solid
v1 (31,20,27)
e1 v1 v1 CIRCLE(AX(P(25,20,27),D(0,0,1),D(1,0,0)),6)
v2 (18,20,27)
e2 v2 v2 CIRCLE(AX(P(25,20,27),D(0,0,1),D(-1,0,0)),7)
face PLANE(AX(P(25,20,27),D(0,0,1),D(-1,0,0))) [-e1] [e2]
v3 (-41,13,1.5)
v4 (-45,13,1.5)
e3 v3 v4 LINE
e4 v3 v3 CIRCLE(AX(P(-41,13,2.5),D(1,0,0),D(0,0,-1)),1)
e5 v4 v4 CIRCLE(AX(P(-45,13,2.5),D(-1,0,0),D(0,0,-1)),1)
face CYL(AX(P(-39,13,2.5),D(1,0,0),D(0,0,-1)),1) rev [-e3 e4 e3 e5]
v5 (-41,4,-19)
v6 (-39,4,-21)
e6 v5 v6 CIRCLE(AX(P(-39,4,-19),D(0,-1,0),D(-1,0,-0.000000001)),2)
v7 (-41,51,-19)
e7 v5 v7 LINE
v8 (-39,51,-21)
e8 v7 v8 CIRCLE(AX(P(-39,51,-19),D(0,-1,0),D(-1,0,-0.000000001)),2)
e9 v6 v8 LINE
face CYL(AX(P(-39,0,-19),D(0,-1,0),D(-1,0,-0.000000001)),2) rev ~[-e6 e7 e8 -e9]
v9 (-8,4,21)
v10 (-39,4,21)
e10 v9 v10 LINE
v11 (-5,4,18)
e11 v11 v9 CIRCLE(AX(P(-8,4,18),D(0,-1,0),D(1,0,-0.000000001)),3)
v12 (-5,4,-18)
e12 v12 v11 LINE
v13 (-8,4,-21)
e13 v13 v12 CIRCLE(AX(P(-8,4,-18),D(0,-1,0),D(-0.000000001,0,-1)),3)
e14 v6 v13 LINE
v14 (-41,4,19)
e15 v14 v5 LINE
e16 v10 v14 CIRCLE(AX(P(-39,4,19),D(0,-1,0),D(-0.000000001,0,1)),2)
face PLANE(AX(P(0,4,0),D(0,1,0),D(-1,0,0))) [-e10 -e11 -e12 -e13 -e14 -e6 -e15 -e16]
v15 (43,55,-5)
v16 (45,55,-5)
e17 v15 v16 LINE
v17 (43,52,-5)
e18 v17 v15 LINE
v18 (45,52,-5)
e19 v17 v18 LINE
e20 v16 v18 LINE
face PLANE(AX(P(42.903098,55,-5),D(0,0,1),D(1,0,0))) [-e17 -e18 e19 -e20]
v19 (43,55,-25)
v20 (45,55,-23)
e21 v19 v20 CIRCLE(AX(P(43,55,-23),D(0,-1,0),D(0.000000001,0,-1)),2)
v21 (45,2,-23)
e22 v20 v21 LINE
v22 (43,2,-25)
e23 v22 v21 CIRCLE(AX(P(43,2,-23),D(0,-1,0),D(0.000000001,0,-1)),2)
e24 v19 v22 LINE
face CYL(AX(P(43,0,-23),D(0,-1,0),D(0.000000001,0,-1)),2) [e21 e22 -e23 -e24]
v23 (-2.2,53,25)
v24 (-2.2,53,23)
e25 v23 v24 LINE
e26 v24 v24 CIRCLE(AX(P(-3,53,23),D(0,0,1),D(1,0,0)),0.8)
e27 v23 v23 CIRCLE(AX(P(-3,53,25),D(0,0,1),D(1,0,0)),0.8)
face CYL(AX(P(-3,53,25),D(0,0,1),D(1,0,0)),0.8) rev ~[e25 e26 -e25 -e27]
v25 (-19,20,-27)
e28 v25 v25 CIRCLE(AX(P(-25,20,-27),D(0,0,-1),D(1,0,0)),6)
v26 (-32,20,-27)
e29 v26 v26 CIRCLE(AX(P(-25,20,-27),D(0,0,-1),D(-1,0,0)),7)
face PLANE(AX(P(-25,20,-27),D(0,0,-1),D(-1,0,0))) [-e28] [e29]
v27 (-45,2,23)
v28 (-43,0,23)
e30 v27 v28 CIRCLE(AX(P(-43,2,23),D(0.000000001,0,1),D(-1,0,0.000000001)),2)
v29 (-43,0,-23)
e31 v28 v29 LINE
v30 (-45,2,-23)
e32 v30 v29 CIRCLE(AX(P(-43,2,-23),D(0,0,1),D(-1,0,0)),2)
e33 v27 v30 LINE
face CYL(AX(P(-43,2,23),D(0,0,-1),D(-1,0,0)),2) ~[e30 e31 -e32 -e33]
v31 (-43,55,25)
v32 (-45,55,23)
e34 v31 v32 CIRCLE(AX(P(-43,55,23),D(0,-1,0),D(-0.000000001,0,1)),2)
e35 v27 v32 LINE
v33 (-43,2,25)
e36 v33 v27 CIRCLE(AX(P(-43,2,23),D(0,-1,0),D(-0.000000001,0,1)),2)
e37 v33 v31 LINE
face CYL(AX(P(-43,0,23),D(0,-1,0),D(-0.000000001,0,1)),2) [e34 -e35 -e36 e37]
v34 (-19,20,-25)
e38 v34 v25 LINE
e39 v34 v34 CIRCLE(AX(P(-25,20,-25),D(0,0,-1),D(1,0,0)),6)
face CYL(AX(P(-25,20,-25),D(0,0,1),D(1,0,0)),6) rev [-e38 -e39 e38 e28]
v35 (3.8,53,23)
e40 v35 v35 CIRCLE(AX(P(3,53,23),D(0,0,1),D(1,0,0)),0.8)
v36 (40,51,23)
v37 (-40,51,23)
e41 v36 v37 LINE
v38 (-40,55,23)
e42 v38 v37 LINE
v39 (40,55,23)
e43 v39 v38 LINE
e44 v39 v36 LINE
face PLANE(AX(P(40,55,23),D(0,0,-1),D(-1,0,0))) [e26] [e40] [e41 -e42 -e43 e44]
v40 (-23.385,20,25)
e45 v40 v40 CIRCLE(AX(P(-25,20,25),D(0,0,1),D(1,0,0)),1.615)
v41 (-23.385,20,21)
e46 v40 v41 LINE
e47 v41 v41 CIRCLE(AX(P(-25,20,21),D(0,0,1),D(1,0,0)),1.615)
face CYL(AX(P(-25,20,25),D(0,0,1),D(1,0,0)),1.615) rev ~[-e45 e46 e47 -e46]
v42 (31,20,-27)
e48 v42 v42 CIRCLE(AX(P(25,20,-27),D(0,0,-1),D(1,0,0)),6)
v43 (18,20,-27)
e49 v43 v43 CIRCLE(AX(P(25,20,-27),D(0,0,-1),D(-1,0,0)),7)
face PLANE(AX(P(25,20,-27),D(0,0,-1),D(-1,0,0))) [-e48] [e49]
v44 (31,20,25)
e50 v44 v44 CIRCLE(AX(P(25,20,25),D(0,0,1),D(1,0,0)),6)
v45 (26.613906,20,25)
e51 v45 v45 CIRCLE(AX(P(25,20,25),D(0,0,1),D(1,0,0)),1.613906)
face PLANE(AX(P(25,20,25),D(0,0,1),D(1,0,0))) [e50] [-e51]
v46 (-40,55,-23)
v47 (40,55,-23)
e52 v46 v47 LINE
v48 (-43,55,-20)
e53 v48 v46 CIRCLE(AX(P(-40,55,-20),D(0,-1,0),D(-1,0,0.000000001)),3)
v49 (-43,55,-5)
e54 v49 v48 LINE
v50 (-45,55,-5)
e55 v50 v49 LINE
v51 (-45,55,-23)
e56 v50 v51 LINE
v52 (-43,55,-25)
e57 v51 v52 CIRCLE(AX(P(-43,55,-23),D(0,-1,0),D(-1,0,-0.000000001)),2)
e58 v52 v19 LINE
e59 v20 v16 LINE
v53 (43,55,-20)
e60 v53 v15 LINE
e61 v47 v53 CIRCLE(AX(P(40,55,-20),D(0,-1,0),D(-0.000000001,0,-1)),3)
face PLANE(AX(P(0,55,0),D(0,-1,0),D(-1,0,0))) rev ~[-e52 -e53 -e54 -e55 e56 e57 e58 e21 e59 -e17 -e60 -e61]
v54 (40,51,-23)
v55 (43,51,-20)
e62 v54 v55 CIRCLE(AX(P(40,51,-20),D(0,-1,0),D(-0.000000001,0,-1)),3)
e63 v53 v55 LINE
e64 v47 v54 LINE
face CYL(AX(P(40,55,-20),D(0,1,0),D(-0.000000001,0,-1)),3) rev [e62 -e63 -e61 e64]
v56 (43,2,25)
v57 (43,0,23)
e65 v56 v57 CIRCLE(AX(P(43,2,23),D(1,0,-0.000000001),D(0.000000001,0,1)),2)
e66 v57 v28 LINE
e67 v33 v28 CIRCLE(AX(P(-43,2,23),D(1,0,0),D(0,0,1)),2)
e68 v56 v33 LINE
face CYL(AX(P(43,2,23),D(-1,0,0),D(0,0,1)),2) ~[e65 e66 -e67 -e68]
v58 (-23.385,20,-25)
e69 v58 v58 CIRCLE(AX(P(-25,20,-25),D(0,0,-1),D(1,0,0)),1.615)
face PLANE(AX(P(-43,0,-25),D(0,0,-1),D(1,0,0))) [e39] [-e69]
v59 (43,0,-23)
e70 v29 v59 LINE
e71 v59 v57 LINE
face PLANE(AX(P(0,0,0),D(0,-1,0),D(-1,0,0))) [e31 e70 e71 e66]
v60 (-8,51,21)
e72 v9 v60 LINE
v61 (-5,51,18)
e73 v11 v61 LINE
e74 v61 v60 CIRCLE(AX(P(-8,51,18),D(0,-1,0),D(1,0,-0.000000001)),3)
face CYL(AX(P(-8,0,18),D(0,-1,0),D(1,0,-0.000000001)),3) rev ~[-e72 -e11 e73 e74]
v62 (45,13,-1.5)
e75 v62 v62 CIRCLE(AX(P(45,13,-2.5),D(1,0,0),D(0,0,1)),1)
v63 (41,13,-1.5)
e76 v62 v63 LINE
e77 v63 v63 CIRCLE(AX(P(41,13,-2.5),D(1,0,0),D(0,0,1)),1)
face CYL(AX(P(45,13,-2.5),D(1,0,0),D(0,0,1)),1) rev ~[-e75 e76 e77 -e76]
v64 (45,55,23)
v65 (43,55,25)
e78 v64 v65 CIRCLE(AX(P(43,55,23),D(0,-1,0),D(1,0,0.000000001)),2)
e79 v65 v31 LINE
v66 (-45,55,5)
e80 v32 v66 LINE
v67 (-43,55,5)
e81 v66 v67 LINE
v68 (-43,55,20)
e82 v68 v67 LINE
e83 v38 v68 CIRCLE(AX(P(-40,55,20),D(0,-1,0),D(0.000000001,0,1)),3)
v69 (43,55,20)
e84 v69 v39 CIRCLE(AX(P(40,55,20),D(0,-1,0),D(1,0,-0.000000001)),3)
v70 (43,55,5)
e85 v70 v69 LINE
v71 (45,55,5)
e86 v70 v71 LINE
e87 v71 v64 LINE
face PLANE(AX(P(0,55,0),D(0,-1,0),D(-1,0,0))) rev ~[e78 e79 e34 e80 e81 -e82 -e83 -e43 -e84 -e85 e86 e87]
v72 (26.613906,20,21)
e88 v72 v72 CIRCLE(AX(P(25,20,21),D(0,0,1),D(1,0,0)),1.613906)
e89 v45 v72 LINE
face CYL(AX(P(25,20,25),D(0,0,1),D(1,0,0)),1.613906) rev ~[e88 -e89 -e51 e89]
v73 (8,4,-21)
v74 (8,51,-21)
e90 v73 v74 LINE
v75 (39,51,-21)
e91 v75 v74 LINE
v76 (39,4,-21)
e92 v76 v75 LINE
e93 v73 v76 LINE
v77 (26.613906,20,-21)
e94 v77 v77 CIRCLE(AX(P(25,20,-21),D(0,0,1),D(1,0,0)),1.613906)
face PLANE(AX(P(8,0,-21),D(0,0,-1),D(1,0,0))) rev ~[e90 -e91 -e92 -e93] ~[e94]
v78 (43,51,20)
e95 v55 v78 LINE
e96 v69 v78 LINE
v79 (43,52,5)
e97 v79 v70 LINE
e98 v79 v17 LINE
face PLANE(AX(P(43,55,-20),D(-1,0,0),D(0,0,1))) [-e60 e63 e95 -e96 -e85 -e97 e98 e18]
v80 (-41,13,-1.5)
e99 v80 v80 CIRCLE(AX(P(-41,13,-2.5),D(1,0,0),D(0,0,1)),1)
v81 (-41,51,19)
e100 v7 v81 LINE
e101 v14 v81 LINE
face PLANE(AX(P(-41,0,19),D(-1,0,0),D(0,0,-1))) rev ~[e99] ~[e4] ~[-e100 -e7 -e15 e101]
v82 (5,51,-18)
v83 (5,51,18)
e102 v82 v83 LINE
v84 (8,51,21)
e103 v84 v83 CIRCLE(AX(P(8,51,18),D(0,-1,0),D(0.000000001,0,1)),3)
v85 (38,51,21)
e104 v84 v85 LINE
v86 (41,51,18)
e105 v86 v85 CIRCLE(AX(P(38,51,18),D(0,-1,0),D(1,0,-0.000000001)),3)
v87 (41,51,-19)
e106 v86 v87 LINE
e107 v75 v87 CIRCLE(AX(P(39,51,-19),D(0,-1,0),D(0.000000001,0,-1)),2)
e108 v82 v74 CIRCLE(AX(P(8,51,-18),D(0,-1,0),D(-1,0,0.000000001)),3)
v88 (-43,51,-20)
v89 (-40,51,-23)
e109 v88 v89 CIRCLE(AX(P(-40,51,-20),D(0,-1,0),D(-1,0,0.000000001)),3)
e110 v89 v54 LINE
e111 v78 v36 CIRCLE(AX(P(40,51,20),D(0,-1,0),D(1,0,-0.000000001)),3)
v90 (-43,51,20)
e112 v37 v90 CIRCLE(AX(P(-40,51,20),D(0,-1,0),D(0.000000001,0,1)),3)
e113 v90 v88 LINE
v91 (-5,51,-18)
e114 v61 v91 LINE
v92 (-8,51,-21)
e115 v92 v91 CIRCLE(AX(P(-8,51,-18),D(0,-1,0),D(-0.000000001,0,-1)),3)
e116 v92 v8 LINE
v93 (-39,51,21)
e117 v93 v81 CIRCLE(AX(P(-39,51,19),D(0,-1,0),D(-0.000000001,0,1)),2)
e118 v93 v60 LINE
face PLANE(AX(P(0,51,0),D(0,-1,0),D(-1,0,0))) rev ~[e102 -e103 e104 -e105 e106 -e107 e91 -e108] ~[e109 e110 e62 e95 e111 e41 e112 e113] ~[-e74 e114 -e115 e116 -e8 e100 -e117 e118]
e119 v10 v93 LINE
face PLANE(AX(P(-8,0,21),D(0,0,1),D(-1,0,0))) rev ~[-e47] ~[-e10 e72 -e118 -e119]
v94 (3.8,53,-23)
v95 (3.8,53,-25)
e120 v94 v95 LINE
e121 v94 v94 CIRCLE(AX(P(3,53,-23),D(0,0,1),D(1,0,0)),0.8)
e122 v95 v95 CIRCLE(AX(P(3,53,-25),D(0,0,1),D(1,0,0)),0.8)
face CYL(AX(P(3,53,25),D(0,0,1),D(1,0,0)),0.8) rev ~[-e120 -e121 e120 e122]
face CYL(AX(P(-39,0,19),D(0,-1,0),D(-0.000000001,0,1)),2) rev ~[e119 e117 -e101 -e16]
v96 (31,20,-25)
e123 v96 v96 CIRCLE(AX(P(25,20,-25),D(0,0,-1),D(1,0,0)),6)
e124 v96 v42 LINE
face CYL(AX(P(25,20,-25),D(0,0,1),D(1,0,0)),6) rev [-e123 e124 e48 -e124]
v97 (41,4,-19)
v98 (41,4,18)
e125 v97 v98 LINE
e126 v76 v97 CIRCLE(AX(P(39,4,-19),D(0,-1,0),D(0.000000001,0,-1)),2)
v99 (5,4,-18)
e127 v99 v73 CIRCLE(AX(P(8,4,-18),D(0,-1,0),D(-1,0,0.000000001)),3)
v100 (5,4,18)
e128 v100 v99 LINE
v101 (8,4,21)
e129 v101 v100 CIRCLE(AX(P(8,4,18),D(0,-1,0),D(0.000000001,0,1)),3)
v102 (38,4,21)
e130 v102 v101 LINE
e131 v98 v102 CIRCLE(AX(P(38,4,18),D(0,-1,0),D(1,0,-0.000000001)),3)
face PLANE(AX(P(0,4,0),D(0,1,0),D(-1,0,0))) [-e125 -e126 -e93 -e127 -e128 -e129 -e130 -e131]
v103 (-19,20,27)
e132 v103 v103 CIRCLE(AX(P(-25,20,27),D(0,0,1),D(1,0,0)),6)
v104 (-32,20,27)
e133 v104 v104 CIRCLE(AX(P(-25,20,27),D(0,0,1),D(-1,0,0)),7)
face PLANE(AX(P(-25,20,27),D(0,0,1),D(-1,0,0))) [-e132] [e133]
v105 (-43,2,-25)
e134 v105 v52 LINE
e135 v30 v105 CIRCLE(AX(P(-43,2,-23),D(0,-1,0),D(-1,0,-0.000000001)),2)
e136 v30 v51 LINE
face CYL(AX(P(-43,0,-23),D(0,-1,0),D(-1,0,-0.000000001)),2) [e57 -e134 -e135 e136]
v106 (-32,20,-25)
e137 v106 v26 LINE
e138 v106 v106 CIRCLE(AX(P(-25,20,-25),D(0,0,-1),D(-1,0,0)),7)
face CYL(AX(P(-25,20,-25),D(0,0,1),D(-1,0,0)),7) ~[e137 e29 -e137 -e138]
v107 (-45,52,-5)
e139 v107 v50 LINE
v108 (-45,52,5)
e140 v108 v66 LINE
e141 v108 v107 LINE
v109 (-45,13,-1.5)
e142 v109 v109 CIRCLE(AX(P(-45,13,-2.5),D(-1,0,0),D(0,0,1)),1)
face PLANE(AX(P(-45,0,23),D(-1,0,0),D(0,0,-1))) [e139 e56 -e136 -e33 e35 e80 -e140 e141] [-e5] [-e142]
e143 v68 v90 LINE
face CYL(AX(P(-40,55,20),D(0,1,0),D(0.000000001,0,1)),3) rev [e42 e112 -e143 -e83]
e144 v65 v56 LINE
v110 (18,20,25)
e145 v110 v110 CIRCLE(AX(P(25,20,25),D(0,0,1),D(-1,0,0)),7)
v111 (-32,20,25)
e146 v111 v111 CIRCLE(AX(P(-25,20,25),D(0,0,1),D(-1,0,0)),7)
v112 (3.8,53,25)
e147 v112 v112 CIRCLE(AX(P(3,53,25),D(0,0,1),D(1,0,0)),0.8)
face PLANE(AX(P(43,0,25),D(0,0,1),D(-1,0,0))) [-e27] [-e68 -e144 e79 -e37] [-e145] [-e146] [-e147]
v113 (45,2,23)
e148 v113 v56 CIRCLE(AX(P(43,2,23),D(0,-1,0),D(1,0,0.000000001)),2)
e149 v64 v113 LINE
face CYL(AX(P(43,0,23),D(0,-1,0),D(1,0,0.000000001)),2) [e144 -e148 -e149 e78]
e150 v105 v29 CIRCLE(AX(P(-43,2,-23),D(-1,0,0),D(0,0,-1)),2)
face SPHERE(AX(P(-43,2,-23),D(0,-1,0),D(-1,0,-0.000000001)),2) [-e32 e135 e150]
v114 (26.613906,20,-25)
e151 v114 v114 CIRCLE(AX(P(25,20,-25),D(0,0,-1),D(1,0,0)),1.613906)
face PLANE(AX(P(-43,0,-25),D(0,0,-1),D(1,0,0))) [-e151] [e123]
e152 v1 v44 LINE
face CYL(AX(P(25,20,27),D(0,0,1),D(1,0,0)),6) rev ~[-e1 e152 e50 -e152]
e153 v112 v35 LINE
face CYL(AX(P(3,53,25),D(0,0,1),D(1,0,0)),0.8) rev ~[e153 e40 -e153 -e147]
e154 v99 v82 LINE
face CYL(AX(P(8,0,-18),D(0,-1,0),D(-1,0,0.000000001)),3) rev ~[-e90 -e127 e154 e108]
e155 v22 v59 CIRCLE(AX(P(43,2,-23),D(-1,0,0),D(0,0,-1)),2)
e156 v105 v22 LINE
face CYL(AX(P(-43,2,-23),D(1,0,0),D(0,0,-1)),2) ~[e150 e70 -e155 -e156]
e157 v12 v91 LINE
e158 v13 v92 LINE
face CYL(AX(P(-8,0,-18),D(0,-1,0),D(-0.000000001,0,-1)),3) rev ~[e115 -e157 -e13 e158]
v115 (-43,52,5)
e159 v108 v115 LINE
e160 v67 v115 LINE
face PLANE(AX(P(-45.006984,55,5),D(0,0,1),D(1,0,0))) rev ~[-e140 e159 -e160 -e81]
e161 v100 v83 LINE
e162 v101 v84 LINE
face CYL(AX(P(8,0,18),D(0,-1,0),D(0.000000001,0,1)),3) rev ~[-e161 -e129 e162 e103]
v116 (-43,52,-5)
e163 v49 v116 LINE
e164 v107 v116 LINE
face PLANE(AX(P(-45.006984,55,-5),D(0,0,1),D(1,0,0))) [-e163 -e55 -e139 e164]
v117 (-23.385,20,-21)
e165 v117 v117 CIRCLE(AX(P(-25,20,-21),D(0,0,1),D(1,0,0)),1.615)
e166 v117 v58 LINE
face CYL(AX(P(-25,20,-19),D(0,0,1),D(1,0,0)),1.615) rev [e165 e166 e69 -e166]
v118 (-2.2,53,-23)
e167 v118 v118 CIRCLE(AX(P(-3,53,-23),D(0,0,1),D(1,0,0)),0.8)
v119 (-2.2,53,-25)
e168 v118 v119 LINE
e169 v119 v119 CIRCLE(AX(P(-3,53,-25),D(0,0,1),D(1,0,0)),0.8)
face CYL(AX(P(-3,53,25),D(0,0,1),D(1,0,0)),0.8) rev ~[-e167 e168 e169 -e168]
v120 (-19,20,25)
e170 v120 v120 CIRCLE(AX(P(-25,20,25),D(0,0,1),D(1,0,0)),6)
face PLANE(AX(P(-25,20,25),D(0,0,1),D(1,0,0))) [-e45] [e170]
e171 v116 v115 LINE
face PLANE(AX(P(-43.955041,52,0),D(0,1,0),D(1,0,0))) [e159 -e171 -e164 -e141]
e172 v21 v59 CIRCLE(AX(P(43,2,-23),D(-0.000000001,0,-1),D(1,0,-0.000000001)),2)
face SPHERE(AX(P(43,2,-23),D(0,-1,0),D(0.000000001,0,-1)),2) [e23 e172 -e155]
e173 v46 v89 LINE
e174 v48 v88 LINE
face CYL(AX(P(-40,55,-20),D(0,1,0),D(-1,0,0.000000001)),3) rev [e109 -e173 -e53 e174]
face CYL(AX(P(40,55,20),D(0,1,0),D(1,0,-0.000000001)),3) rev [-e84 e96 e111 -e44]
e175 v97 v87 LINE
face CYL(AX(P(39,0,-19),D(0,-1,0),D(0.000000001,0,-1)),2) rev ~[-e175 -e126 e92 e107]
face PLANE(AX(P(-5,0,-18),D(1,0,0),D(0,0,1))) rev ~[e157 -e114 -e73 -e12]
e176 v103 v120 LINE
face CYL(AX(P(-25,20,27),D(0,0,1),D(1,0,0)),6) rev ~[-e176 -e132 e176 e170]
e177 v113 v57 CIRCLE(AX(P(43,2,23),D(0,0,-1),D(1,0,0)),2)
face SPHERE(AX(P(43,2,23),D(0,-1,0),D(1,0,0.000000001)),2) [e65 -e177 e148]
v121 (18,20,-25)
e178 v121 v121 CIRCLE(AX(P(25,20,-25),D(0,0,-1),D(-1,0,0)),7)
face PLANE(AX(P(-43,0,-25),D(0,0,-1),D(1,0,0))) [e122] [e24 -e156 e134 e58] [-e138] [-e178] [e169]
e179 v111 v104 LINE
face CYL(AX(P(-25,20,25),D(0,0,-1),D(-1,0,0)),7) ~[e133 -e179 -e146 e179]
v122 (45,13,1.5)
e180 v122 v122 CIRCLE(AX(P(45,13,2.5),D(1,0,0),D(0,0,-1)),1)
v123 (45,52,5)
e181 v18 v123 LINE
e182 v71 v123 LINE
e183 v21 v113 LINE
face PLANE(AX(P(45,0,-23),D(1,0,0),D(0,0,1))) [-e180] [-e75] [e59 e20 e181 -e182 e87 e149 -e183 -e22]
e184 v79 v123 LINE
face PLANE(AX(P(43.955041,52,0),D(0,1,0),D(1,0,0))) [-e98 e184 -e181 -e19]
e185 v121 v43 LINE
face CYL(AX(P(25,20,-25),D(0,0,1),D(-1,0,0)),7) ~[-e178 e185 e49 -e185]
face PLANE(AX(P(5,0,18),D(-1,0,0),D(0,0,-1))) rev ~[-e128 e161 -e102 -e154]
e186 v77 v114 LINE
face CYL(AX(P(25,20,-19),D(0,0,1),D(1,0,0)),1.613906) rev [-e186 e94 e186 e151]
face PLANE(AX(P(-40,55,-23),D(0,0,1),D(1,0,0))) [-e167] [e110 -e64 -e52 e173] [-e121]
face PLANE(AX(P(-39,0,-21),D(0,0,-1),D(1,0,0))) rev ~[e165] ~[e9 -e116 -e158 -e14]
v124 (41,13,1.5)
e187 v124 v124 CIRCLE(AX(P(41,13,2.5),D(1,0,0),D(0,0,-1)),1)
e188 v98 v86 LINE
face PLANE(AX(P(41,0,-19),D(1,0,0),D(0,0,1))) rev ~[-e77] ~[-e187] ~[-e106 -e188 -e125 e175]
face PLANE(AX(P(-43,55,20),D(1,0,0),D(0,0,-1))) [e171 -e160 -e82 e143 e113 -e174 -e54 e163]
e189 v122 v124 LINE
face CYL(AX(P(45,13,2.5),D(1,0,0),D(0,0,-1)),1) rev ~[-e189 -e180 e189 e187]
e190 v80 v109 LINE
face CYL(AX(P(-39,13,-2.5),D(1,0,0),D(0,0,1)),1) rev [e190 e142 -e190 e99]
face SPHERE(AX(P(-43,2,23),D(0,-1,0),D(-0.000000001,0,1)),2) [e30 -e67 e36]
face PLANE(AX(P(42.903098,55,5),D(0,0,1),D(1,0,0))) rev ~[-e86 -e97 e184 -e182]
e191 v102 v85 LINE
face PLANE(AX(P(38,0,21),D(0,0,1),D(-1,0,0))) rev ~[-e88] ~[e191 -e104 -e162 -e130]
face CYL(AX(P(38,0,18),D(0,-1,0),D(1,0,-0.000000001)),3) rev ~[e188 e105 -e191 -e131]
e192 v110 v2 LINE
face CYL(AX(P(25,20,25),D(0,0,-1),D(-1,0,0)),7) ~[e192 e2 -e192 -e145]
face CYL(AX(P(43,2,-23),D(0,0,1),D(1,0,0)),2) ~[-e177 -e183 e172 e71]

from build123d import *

# Parameters (mm, degrees)
BOSS_EXTRUDE1_DEPTH = 55
BOSS_EXTRUDE2_DEPTH = 4
CUT_EXTRUDE1_DEPTH  = 4
SKETCH6_R           = 7
BOSS_EXTRUDE3_DEPTH = 2
SKETCH7_R           = 6
CUT_EXTRUDE2_DEPTH  = 2
SKETCH8_R           = 1.613905717
CUT_EXTRUDE4_DEPTH  = 13
SKETCH9_R           = 6
CUT_EXTRUDE5_DEPTH  = 2
SKETCH11_R          = 1.615
CUT_EXTRUDE6_DEPTH  = 6
FILLET1_R           = 2
SKETCH14_R          = 7
SKETCH14_R_2        = 6
BOSS_EXTRUDE5_DEPTH = 2
CUT_EXTRUDE7_START  = -6
SKETCH15_R          = 1.615
SKETCH15_R_2        = 1.613905717
CUT_EXTRUDE7_DEPTH  = 6
SKETCH16_R          = 1
CUT_EXTRUDE9_DEPTH  = 6
CUT_EXTRUDE10_START = -6
SKETCH17_R          = 1
CUT_EXTRUDE10_DEPTH = 6
SKETCH18_W          = 2.103885612
SKETCH18_H          = 10
CUT_EXTRUDE12_DEPTH = 3
CUT_EXTRUDE13_REACH = 90.057
SKETCH19_R          = 0.8


with BuildPart() as part:
    # Sketch1 → Boss-Extrude1 (new body)
    with BuildSketch(Plane(origin=(0, 0, 0), x_dir=(1, 0, 0), z_dir=(0, 1, 0))):
        with BuildLine():
            Line((-43, 25), (43, 25))
            ThreePointArc((43, 25), (44.414213562, 24.414213562), (45, 23))
            Line((45, 23), (45, -23))
            ThreePointArc((45, -23), (44.414213562, -24.414213562), (43, -25))
            Line((43, -25), (-43, -25))
            ThreePointArc((-43, -25), (-44.414213562, -24.414213562), (-45, -23))
            Line((-45, -23), (-45, 23))
            ThreePointArc((-45, 23), (-44.414213562, 24.414213562), (-43, 25))
        make_face()
        with BuildLine():
            Line((-5, 18), (-5, -18))
            ThreePointArc((-5, -18), (-5.878679656, -20.121320344), (-8, -21))
            Line((-8, -21), (-39, -21))
            ThreePointArc((-39, -21), (-40.414213562, -20.414213562), (-41, -19))
            Line((-41, -19), (-41, 19))
            ThreePointArc((-41, 19), (-40.414213562, 20.414213562), (-39, 21))
            Line((-39, 21), (-8, 21))
            ThreePointArc((-8, 21), (-5.878679656, 20.121320344), (-5, 18))
        make_face(mode=Mode.SUBTRACT)
        with BuildLine():
            Line((41, 19), (41, -18))
            ThreePointArc((41, -18), (40.121320344, -20.121320344), (38, -21))
            Line((38, -21), (8, -21))
            ThreePointArc((8, -21), (5.878679656, -20.121320344), (5, -18))
            Line((5, -18), (5, 18))
            ThreePointArc((5, 18), (5.878679656, 20.121320344), (8, 21))
            Line((8, 21), (39, 21))
            ThreePointArc((39, 21), (40.414213562, 20.414213562), (41, 19))
        make_face(mode=Mode.SUBTRACT)
    extrude(amount=BOSS_EXTRUDE1_DEPTH)

    # Sketch2 → Boss-Extrude2 (add)
    with BuildSketch(Plane.XZ):
        with BuildLine():
            Line((45, 23), (45, -23))
            ThreePointArc((45, -23), (44.414213562, -24.414213562), (43, -25))
            Line((43, -25), (-43, -25))
            ThreePointArc((-43, -25), (-44.414213562, -24.414213562), (-45, -23))
            Line((-45, -23), (-45, 23))
            ThreePointArc((-45, 23), (-44.414213562, 24.414213562), (-43, 25))
            Line((-43, 25), (43, 25))
            ThreePointArc((43, 25), (44.414213562, 24.414213562), (45, 23))
        make_face()
    extrude(amount=-BOSS_EXTRUDE2_DEPTH)

    # Sketch5 → Cut-Extrude1 (cut)
    with BuildSketch(Plane(origin=(0, 55, 0), x_dir=(1, 0, 0), z_dir=(0, 1, 0))):
        with BuildLine():
            Line((-40, 23), (40, 23))
            ThreePointArc((40, 23), (42.121320344, 22.121320344), (43, 20))
            Line((43, 20), (43, -20))
            ThreePointArc((43, -20), (42.121320344, -22.121320344), (40, -23))
            Line((40, -23), (-40, -23))
            ThreePointArc((-40, -23), (-42.121320344, -22.121320344), (-43, -20))
            Line((-43, -20), (-43, 20))
            ThreePointArc((-43, 20), (-42.121320344, 22.121320344), (-40, 23))
        make_face()
    extrude(amount=-CUT_EXTRUDE1_DEPTH, mode=Mode.SUBTRACT)

    # Sketch6 → Boss-Extrude3 (add)
    with BuildSketch(Plane.XY.offset(25)):
        with Locations(Location((-25, 20, 0), (0, 0, 180))):
            Circle(SKETCH6_R)
        with Locations(Location((25, 20, 0), (0, 0, 180))):
            Circle(SKETCH6_R)
    extrude(amount=BOSS_EXTRUDE3_DEPTH)

    # Sketch7 → Cut-Extrude2 (cut)
    with BuildSketch(Plane.XY.offset(27)):
        with Locations((25, 20)):
            Circle(SKETCH7_R)
    extrude(amount=-CUT_EXTRUDE2_DEPTH, mode=Mode.SUBTRACT)

    # Sketch8 → Cut-Extrude4 (cut)
    with BuildSketch(Plane.XY.offset(25)):
        with Locations((25, 20)):
            Circle(SKETCH8_R)
    extrude(amount=-CUT_EXTRUDE4_DEPTH, mode=Mode.SUBTRACT)

    # Sketch9 → Cut-Extrude5 (cut)
    with BuildSketch(Plane.XY.offset(27)):
        with Locations((-25, 20)):
            Circle(SKETCH9_R)
    extrude(amount=-CUT_EXTRUDE5_DEPTH, mode=Mode.SUBTRACT)

    # Sketch11 → Cut-Extrude6 (cut)
    with BuildSketch(Plane.XY.offset(25)):
        with Locations((-25, 20)):
            Circle(SKETCH11_R)
    extrude(amount=-CUT_EXTRUDE6_DEPTH, mode=Mode.SUBTRACT)

    # Fillet1
    fillet1_edges = [part.edges().sort_by_distance(p)[0] for p in [
        (0, 0, -25),
        (44.414213562, 0, -24.414213562),
        (45, 0, 0),
        (44.414213562, 0, 24.414213562),
        (0, 0, 25),
        (-44.414213562, 0, 24.414213562),
        (-45, 0, 0),
        (-44.414213562, 0, -24.414213562),
    ]]
    fillet(fillet1_edges, radius=FILLET1_R)

    # Sketch14 → Boss-Extrude5 (add)
    # profile 1 of 2: a face of its own
    with BuildSketch(Plane(origin=(0, 0, -25), x_dir=(-1, 0, 0), z_dir=(0, 0, -1))):
        with Locations((-25, 20)):
            Circle(SKETCH14_R)
        with Locations(Location((-25, 20, 0), (0, 0, 180))):
            Circle(SKETCH14_R_2, mode=Mode.SUBTRACT)
    # profile 2 of 2: a face of its own
    with BuildSketch(Plane(origin=(0, 0, -25), x_dir=(-1, 0, 0), z_dir=(0, 0, -1))):
        with Locations((25, 20)):
            Circle(SKETCH14_R)
        with Locations(Location((25, 20, 0), (0, 0, 180))):
            Circle(SKETCH14_R_2, mode=Mode.SUBTRACT)
    extrude(amount=BOSS_EXTRUDE5_DEPTH)

    # Sketch15 → Cut-Extrude7 (cut)
    with BuildSketch(Plane(origin=(0, 0, -25), x_dir=(-1, 0, 0), z_dir=(0, 0, -1)).offset(CUT_EXTRUDE7_START)):
        with Locations(Location((25, 20, 0), (0, 0, 180))):
            Circle(SKETCH15_R)
        with Locations(Location((-25, 20, 0), (0, 0, 180))):
            Circle(SKETCH15_R_2)
    extrude(amount=CUT_EXTRUDE7_DEPTH, mode=Mode.SUBTRACT)

    # Sketch16 → Cut-Extrude9 (cut)
    with BuildSketch(Plane(origin=(45, 0, 0), x_dir=(0, 0, -1), z_dir=(1, 0, 0))):
        with Locations((-2.5, 13)):
            Circle(SKETCH16_R)
        with Locations(Location((2.5, 13, 0), (0, 0, 180))):
            Circle(SKETCH16_R)
    extrude(amount=-CUT_EXTRUDE9_DEPTH, mode=Mode.SUBTRACT)

    # Sketch17 → Cut-Extrude10 (cut)
    with BuildSketch(Plane.ZY.offset(45).offset(CUT_EXTRUDE10_START)):
        with Locations((-2.5, 13)):
            Circle(SKETCH17_R)
        with Locations(Location((2.5, 13, 0), (0, 0, 180))):
            Circle(SKETCH17_R)
    extrude(amount=CUT_EXTRUDE10_DEPTH, mode=Mode.SUBTRACT)

    # Sketch18 → Cut-Extrude12 (cut)
    with BuildSketch(Plane(origin=(0, 55, 0), x_dir=(1, 0, 0), z_dir=(0, 1, 0))):
        with Locations((43.955041237, 0)):
            Rectangle(SKETCH18_W, SKETCH18_H)
        with Locations((-43.955041237, 0)):
            Rectangle(SKETCH18_W, SKETCH18_H)
    extrude(amount=-CUT_EXTRUDE12_DEPTH, mode=Mode.SUBTRACT)

    # Cut-Extrude13: up to this face of the body (flat: up to its plane)
    cut_extrude13_end = Plane(part.part.faces().sort_by_distance((0, 29.115734207, -25))[0])
    # Sketch19 → Cut-Extrude13 (cut, up to the picked face)
    with BuildSketch(Plane.XY.offset(25), mode=Mode.PRIVATE) as cut_extrude13_sk1:
        with Locations((-3, 53)):
            Circle(SKETCH19_R)
    cut_extrude13_tool1 = split(extrude(cut_extrude13_sk1.sketch, amount=-CUT_EXTRUDE13_REACH, mode=Mode.PRIVATE), bisect_by=cut_extrude13_end, keep=Keep.BOTH, mode=Mode.PRIVATE)
    # Sketch19 → Cut-Extrude13 (cut, up to the picked face)
    with BuildSketch(Plane.XY.offset(25), mode=Mode.PRIVATE) as cut_extrude13_sk2:
        with Locations((3, 53)):
            Circle(SKETCH19_R)
    cut_extrude13_tool2 = split(extrude(cut_extrude13_sk2.sketch, amount=-CUT_EXTRUDE13_REACH, mode=Mode.PRIVATE), bisect_by=cut_extrude13_end, keep=Keep.BOTH, mode=Mode.PRIVATE)
    add(cut_extrude13_tool1.solids().sort_by(Axis((-3, 53, 25), (0, 0, -1)))[0], mode=Mode.SUBTRACT)
    add(cut_extrude13_tool2.solids().sort_by(Axis((3, 53, 25), (0, 0, -1)))[0], mode=Mode.SUBTRACT)


solid = part.part
